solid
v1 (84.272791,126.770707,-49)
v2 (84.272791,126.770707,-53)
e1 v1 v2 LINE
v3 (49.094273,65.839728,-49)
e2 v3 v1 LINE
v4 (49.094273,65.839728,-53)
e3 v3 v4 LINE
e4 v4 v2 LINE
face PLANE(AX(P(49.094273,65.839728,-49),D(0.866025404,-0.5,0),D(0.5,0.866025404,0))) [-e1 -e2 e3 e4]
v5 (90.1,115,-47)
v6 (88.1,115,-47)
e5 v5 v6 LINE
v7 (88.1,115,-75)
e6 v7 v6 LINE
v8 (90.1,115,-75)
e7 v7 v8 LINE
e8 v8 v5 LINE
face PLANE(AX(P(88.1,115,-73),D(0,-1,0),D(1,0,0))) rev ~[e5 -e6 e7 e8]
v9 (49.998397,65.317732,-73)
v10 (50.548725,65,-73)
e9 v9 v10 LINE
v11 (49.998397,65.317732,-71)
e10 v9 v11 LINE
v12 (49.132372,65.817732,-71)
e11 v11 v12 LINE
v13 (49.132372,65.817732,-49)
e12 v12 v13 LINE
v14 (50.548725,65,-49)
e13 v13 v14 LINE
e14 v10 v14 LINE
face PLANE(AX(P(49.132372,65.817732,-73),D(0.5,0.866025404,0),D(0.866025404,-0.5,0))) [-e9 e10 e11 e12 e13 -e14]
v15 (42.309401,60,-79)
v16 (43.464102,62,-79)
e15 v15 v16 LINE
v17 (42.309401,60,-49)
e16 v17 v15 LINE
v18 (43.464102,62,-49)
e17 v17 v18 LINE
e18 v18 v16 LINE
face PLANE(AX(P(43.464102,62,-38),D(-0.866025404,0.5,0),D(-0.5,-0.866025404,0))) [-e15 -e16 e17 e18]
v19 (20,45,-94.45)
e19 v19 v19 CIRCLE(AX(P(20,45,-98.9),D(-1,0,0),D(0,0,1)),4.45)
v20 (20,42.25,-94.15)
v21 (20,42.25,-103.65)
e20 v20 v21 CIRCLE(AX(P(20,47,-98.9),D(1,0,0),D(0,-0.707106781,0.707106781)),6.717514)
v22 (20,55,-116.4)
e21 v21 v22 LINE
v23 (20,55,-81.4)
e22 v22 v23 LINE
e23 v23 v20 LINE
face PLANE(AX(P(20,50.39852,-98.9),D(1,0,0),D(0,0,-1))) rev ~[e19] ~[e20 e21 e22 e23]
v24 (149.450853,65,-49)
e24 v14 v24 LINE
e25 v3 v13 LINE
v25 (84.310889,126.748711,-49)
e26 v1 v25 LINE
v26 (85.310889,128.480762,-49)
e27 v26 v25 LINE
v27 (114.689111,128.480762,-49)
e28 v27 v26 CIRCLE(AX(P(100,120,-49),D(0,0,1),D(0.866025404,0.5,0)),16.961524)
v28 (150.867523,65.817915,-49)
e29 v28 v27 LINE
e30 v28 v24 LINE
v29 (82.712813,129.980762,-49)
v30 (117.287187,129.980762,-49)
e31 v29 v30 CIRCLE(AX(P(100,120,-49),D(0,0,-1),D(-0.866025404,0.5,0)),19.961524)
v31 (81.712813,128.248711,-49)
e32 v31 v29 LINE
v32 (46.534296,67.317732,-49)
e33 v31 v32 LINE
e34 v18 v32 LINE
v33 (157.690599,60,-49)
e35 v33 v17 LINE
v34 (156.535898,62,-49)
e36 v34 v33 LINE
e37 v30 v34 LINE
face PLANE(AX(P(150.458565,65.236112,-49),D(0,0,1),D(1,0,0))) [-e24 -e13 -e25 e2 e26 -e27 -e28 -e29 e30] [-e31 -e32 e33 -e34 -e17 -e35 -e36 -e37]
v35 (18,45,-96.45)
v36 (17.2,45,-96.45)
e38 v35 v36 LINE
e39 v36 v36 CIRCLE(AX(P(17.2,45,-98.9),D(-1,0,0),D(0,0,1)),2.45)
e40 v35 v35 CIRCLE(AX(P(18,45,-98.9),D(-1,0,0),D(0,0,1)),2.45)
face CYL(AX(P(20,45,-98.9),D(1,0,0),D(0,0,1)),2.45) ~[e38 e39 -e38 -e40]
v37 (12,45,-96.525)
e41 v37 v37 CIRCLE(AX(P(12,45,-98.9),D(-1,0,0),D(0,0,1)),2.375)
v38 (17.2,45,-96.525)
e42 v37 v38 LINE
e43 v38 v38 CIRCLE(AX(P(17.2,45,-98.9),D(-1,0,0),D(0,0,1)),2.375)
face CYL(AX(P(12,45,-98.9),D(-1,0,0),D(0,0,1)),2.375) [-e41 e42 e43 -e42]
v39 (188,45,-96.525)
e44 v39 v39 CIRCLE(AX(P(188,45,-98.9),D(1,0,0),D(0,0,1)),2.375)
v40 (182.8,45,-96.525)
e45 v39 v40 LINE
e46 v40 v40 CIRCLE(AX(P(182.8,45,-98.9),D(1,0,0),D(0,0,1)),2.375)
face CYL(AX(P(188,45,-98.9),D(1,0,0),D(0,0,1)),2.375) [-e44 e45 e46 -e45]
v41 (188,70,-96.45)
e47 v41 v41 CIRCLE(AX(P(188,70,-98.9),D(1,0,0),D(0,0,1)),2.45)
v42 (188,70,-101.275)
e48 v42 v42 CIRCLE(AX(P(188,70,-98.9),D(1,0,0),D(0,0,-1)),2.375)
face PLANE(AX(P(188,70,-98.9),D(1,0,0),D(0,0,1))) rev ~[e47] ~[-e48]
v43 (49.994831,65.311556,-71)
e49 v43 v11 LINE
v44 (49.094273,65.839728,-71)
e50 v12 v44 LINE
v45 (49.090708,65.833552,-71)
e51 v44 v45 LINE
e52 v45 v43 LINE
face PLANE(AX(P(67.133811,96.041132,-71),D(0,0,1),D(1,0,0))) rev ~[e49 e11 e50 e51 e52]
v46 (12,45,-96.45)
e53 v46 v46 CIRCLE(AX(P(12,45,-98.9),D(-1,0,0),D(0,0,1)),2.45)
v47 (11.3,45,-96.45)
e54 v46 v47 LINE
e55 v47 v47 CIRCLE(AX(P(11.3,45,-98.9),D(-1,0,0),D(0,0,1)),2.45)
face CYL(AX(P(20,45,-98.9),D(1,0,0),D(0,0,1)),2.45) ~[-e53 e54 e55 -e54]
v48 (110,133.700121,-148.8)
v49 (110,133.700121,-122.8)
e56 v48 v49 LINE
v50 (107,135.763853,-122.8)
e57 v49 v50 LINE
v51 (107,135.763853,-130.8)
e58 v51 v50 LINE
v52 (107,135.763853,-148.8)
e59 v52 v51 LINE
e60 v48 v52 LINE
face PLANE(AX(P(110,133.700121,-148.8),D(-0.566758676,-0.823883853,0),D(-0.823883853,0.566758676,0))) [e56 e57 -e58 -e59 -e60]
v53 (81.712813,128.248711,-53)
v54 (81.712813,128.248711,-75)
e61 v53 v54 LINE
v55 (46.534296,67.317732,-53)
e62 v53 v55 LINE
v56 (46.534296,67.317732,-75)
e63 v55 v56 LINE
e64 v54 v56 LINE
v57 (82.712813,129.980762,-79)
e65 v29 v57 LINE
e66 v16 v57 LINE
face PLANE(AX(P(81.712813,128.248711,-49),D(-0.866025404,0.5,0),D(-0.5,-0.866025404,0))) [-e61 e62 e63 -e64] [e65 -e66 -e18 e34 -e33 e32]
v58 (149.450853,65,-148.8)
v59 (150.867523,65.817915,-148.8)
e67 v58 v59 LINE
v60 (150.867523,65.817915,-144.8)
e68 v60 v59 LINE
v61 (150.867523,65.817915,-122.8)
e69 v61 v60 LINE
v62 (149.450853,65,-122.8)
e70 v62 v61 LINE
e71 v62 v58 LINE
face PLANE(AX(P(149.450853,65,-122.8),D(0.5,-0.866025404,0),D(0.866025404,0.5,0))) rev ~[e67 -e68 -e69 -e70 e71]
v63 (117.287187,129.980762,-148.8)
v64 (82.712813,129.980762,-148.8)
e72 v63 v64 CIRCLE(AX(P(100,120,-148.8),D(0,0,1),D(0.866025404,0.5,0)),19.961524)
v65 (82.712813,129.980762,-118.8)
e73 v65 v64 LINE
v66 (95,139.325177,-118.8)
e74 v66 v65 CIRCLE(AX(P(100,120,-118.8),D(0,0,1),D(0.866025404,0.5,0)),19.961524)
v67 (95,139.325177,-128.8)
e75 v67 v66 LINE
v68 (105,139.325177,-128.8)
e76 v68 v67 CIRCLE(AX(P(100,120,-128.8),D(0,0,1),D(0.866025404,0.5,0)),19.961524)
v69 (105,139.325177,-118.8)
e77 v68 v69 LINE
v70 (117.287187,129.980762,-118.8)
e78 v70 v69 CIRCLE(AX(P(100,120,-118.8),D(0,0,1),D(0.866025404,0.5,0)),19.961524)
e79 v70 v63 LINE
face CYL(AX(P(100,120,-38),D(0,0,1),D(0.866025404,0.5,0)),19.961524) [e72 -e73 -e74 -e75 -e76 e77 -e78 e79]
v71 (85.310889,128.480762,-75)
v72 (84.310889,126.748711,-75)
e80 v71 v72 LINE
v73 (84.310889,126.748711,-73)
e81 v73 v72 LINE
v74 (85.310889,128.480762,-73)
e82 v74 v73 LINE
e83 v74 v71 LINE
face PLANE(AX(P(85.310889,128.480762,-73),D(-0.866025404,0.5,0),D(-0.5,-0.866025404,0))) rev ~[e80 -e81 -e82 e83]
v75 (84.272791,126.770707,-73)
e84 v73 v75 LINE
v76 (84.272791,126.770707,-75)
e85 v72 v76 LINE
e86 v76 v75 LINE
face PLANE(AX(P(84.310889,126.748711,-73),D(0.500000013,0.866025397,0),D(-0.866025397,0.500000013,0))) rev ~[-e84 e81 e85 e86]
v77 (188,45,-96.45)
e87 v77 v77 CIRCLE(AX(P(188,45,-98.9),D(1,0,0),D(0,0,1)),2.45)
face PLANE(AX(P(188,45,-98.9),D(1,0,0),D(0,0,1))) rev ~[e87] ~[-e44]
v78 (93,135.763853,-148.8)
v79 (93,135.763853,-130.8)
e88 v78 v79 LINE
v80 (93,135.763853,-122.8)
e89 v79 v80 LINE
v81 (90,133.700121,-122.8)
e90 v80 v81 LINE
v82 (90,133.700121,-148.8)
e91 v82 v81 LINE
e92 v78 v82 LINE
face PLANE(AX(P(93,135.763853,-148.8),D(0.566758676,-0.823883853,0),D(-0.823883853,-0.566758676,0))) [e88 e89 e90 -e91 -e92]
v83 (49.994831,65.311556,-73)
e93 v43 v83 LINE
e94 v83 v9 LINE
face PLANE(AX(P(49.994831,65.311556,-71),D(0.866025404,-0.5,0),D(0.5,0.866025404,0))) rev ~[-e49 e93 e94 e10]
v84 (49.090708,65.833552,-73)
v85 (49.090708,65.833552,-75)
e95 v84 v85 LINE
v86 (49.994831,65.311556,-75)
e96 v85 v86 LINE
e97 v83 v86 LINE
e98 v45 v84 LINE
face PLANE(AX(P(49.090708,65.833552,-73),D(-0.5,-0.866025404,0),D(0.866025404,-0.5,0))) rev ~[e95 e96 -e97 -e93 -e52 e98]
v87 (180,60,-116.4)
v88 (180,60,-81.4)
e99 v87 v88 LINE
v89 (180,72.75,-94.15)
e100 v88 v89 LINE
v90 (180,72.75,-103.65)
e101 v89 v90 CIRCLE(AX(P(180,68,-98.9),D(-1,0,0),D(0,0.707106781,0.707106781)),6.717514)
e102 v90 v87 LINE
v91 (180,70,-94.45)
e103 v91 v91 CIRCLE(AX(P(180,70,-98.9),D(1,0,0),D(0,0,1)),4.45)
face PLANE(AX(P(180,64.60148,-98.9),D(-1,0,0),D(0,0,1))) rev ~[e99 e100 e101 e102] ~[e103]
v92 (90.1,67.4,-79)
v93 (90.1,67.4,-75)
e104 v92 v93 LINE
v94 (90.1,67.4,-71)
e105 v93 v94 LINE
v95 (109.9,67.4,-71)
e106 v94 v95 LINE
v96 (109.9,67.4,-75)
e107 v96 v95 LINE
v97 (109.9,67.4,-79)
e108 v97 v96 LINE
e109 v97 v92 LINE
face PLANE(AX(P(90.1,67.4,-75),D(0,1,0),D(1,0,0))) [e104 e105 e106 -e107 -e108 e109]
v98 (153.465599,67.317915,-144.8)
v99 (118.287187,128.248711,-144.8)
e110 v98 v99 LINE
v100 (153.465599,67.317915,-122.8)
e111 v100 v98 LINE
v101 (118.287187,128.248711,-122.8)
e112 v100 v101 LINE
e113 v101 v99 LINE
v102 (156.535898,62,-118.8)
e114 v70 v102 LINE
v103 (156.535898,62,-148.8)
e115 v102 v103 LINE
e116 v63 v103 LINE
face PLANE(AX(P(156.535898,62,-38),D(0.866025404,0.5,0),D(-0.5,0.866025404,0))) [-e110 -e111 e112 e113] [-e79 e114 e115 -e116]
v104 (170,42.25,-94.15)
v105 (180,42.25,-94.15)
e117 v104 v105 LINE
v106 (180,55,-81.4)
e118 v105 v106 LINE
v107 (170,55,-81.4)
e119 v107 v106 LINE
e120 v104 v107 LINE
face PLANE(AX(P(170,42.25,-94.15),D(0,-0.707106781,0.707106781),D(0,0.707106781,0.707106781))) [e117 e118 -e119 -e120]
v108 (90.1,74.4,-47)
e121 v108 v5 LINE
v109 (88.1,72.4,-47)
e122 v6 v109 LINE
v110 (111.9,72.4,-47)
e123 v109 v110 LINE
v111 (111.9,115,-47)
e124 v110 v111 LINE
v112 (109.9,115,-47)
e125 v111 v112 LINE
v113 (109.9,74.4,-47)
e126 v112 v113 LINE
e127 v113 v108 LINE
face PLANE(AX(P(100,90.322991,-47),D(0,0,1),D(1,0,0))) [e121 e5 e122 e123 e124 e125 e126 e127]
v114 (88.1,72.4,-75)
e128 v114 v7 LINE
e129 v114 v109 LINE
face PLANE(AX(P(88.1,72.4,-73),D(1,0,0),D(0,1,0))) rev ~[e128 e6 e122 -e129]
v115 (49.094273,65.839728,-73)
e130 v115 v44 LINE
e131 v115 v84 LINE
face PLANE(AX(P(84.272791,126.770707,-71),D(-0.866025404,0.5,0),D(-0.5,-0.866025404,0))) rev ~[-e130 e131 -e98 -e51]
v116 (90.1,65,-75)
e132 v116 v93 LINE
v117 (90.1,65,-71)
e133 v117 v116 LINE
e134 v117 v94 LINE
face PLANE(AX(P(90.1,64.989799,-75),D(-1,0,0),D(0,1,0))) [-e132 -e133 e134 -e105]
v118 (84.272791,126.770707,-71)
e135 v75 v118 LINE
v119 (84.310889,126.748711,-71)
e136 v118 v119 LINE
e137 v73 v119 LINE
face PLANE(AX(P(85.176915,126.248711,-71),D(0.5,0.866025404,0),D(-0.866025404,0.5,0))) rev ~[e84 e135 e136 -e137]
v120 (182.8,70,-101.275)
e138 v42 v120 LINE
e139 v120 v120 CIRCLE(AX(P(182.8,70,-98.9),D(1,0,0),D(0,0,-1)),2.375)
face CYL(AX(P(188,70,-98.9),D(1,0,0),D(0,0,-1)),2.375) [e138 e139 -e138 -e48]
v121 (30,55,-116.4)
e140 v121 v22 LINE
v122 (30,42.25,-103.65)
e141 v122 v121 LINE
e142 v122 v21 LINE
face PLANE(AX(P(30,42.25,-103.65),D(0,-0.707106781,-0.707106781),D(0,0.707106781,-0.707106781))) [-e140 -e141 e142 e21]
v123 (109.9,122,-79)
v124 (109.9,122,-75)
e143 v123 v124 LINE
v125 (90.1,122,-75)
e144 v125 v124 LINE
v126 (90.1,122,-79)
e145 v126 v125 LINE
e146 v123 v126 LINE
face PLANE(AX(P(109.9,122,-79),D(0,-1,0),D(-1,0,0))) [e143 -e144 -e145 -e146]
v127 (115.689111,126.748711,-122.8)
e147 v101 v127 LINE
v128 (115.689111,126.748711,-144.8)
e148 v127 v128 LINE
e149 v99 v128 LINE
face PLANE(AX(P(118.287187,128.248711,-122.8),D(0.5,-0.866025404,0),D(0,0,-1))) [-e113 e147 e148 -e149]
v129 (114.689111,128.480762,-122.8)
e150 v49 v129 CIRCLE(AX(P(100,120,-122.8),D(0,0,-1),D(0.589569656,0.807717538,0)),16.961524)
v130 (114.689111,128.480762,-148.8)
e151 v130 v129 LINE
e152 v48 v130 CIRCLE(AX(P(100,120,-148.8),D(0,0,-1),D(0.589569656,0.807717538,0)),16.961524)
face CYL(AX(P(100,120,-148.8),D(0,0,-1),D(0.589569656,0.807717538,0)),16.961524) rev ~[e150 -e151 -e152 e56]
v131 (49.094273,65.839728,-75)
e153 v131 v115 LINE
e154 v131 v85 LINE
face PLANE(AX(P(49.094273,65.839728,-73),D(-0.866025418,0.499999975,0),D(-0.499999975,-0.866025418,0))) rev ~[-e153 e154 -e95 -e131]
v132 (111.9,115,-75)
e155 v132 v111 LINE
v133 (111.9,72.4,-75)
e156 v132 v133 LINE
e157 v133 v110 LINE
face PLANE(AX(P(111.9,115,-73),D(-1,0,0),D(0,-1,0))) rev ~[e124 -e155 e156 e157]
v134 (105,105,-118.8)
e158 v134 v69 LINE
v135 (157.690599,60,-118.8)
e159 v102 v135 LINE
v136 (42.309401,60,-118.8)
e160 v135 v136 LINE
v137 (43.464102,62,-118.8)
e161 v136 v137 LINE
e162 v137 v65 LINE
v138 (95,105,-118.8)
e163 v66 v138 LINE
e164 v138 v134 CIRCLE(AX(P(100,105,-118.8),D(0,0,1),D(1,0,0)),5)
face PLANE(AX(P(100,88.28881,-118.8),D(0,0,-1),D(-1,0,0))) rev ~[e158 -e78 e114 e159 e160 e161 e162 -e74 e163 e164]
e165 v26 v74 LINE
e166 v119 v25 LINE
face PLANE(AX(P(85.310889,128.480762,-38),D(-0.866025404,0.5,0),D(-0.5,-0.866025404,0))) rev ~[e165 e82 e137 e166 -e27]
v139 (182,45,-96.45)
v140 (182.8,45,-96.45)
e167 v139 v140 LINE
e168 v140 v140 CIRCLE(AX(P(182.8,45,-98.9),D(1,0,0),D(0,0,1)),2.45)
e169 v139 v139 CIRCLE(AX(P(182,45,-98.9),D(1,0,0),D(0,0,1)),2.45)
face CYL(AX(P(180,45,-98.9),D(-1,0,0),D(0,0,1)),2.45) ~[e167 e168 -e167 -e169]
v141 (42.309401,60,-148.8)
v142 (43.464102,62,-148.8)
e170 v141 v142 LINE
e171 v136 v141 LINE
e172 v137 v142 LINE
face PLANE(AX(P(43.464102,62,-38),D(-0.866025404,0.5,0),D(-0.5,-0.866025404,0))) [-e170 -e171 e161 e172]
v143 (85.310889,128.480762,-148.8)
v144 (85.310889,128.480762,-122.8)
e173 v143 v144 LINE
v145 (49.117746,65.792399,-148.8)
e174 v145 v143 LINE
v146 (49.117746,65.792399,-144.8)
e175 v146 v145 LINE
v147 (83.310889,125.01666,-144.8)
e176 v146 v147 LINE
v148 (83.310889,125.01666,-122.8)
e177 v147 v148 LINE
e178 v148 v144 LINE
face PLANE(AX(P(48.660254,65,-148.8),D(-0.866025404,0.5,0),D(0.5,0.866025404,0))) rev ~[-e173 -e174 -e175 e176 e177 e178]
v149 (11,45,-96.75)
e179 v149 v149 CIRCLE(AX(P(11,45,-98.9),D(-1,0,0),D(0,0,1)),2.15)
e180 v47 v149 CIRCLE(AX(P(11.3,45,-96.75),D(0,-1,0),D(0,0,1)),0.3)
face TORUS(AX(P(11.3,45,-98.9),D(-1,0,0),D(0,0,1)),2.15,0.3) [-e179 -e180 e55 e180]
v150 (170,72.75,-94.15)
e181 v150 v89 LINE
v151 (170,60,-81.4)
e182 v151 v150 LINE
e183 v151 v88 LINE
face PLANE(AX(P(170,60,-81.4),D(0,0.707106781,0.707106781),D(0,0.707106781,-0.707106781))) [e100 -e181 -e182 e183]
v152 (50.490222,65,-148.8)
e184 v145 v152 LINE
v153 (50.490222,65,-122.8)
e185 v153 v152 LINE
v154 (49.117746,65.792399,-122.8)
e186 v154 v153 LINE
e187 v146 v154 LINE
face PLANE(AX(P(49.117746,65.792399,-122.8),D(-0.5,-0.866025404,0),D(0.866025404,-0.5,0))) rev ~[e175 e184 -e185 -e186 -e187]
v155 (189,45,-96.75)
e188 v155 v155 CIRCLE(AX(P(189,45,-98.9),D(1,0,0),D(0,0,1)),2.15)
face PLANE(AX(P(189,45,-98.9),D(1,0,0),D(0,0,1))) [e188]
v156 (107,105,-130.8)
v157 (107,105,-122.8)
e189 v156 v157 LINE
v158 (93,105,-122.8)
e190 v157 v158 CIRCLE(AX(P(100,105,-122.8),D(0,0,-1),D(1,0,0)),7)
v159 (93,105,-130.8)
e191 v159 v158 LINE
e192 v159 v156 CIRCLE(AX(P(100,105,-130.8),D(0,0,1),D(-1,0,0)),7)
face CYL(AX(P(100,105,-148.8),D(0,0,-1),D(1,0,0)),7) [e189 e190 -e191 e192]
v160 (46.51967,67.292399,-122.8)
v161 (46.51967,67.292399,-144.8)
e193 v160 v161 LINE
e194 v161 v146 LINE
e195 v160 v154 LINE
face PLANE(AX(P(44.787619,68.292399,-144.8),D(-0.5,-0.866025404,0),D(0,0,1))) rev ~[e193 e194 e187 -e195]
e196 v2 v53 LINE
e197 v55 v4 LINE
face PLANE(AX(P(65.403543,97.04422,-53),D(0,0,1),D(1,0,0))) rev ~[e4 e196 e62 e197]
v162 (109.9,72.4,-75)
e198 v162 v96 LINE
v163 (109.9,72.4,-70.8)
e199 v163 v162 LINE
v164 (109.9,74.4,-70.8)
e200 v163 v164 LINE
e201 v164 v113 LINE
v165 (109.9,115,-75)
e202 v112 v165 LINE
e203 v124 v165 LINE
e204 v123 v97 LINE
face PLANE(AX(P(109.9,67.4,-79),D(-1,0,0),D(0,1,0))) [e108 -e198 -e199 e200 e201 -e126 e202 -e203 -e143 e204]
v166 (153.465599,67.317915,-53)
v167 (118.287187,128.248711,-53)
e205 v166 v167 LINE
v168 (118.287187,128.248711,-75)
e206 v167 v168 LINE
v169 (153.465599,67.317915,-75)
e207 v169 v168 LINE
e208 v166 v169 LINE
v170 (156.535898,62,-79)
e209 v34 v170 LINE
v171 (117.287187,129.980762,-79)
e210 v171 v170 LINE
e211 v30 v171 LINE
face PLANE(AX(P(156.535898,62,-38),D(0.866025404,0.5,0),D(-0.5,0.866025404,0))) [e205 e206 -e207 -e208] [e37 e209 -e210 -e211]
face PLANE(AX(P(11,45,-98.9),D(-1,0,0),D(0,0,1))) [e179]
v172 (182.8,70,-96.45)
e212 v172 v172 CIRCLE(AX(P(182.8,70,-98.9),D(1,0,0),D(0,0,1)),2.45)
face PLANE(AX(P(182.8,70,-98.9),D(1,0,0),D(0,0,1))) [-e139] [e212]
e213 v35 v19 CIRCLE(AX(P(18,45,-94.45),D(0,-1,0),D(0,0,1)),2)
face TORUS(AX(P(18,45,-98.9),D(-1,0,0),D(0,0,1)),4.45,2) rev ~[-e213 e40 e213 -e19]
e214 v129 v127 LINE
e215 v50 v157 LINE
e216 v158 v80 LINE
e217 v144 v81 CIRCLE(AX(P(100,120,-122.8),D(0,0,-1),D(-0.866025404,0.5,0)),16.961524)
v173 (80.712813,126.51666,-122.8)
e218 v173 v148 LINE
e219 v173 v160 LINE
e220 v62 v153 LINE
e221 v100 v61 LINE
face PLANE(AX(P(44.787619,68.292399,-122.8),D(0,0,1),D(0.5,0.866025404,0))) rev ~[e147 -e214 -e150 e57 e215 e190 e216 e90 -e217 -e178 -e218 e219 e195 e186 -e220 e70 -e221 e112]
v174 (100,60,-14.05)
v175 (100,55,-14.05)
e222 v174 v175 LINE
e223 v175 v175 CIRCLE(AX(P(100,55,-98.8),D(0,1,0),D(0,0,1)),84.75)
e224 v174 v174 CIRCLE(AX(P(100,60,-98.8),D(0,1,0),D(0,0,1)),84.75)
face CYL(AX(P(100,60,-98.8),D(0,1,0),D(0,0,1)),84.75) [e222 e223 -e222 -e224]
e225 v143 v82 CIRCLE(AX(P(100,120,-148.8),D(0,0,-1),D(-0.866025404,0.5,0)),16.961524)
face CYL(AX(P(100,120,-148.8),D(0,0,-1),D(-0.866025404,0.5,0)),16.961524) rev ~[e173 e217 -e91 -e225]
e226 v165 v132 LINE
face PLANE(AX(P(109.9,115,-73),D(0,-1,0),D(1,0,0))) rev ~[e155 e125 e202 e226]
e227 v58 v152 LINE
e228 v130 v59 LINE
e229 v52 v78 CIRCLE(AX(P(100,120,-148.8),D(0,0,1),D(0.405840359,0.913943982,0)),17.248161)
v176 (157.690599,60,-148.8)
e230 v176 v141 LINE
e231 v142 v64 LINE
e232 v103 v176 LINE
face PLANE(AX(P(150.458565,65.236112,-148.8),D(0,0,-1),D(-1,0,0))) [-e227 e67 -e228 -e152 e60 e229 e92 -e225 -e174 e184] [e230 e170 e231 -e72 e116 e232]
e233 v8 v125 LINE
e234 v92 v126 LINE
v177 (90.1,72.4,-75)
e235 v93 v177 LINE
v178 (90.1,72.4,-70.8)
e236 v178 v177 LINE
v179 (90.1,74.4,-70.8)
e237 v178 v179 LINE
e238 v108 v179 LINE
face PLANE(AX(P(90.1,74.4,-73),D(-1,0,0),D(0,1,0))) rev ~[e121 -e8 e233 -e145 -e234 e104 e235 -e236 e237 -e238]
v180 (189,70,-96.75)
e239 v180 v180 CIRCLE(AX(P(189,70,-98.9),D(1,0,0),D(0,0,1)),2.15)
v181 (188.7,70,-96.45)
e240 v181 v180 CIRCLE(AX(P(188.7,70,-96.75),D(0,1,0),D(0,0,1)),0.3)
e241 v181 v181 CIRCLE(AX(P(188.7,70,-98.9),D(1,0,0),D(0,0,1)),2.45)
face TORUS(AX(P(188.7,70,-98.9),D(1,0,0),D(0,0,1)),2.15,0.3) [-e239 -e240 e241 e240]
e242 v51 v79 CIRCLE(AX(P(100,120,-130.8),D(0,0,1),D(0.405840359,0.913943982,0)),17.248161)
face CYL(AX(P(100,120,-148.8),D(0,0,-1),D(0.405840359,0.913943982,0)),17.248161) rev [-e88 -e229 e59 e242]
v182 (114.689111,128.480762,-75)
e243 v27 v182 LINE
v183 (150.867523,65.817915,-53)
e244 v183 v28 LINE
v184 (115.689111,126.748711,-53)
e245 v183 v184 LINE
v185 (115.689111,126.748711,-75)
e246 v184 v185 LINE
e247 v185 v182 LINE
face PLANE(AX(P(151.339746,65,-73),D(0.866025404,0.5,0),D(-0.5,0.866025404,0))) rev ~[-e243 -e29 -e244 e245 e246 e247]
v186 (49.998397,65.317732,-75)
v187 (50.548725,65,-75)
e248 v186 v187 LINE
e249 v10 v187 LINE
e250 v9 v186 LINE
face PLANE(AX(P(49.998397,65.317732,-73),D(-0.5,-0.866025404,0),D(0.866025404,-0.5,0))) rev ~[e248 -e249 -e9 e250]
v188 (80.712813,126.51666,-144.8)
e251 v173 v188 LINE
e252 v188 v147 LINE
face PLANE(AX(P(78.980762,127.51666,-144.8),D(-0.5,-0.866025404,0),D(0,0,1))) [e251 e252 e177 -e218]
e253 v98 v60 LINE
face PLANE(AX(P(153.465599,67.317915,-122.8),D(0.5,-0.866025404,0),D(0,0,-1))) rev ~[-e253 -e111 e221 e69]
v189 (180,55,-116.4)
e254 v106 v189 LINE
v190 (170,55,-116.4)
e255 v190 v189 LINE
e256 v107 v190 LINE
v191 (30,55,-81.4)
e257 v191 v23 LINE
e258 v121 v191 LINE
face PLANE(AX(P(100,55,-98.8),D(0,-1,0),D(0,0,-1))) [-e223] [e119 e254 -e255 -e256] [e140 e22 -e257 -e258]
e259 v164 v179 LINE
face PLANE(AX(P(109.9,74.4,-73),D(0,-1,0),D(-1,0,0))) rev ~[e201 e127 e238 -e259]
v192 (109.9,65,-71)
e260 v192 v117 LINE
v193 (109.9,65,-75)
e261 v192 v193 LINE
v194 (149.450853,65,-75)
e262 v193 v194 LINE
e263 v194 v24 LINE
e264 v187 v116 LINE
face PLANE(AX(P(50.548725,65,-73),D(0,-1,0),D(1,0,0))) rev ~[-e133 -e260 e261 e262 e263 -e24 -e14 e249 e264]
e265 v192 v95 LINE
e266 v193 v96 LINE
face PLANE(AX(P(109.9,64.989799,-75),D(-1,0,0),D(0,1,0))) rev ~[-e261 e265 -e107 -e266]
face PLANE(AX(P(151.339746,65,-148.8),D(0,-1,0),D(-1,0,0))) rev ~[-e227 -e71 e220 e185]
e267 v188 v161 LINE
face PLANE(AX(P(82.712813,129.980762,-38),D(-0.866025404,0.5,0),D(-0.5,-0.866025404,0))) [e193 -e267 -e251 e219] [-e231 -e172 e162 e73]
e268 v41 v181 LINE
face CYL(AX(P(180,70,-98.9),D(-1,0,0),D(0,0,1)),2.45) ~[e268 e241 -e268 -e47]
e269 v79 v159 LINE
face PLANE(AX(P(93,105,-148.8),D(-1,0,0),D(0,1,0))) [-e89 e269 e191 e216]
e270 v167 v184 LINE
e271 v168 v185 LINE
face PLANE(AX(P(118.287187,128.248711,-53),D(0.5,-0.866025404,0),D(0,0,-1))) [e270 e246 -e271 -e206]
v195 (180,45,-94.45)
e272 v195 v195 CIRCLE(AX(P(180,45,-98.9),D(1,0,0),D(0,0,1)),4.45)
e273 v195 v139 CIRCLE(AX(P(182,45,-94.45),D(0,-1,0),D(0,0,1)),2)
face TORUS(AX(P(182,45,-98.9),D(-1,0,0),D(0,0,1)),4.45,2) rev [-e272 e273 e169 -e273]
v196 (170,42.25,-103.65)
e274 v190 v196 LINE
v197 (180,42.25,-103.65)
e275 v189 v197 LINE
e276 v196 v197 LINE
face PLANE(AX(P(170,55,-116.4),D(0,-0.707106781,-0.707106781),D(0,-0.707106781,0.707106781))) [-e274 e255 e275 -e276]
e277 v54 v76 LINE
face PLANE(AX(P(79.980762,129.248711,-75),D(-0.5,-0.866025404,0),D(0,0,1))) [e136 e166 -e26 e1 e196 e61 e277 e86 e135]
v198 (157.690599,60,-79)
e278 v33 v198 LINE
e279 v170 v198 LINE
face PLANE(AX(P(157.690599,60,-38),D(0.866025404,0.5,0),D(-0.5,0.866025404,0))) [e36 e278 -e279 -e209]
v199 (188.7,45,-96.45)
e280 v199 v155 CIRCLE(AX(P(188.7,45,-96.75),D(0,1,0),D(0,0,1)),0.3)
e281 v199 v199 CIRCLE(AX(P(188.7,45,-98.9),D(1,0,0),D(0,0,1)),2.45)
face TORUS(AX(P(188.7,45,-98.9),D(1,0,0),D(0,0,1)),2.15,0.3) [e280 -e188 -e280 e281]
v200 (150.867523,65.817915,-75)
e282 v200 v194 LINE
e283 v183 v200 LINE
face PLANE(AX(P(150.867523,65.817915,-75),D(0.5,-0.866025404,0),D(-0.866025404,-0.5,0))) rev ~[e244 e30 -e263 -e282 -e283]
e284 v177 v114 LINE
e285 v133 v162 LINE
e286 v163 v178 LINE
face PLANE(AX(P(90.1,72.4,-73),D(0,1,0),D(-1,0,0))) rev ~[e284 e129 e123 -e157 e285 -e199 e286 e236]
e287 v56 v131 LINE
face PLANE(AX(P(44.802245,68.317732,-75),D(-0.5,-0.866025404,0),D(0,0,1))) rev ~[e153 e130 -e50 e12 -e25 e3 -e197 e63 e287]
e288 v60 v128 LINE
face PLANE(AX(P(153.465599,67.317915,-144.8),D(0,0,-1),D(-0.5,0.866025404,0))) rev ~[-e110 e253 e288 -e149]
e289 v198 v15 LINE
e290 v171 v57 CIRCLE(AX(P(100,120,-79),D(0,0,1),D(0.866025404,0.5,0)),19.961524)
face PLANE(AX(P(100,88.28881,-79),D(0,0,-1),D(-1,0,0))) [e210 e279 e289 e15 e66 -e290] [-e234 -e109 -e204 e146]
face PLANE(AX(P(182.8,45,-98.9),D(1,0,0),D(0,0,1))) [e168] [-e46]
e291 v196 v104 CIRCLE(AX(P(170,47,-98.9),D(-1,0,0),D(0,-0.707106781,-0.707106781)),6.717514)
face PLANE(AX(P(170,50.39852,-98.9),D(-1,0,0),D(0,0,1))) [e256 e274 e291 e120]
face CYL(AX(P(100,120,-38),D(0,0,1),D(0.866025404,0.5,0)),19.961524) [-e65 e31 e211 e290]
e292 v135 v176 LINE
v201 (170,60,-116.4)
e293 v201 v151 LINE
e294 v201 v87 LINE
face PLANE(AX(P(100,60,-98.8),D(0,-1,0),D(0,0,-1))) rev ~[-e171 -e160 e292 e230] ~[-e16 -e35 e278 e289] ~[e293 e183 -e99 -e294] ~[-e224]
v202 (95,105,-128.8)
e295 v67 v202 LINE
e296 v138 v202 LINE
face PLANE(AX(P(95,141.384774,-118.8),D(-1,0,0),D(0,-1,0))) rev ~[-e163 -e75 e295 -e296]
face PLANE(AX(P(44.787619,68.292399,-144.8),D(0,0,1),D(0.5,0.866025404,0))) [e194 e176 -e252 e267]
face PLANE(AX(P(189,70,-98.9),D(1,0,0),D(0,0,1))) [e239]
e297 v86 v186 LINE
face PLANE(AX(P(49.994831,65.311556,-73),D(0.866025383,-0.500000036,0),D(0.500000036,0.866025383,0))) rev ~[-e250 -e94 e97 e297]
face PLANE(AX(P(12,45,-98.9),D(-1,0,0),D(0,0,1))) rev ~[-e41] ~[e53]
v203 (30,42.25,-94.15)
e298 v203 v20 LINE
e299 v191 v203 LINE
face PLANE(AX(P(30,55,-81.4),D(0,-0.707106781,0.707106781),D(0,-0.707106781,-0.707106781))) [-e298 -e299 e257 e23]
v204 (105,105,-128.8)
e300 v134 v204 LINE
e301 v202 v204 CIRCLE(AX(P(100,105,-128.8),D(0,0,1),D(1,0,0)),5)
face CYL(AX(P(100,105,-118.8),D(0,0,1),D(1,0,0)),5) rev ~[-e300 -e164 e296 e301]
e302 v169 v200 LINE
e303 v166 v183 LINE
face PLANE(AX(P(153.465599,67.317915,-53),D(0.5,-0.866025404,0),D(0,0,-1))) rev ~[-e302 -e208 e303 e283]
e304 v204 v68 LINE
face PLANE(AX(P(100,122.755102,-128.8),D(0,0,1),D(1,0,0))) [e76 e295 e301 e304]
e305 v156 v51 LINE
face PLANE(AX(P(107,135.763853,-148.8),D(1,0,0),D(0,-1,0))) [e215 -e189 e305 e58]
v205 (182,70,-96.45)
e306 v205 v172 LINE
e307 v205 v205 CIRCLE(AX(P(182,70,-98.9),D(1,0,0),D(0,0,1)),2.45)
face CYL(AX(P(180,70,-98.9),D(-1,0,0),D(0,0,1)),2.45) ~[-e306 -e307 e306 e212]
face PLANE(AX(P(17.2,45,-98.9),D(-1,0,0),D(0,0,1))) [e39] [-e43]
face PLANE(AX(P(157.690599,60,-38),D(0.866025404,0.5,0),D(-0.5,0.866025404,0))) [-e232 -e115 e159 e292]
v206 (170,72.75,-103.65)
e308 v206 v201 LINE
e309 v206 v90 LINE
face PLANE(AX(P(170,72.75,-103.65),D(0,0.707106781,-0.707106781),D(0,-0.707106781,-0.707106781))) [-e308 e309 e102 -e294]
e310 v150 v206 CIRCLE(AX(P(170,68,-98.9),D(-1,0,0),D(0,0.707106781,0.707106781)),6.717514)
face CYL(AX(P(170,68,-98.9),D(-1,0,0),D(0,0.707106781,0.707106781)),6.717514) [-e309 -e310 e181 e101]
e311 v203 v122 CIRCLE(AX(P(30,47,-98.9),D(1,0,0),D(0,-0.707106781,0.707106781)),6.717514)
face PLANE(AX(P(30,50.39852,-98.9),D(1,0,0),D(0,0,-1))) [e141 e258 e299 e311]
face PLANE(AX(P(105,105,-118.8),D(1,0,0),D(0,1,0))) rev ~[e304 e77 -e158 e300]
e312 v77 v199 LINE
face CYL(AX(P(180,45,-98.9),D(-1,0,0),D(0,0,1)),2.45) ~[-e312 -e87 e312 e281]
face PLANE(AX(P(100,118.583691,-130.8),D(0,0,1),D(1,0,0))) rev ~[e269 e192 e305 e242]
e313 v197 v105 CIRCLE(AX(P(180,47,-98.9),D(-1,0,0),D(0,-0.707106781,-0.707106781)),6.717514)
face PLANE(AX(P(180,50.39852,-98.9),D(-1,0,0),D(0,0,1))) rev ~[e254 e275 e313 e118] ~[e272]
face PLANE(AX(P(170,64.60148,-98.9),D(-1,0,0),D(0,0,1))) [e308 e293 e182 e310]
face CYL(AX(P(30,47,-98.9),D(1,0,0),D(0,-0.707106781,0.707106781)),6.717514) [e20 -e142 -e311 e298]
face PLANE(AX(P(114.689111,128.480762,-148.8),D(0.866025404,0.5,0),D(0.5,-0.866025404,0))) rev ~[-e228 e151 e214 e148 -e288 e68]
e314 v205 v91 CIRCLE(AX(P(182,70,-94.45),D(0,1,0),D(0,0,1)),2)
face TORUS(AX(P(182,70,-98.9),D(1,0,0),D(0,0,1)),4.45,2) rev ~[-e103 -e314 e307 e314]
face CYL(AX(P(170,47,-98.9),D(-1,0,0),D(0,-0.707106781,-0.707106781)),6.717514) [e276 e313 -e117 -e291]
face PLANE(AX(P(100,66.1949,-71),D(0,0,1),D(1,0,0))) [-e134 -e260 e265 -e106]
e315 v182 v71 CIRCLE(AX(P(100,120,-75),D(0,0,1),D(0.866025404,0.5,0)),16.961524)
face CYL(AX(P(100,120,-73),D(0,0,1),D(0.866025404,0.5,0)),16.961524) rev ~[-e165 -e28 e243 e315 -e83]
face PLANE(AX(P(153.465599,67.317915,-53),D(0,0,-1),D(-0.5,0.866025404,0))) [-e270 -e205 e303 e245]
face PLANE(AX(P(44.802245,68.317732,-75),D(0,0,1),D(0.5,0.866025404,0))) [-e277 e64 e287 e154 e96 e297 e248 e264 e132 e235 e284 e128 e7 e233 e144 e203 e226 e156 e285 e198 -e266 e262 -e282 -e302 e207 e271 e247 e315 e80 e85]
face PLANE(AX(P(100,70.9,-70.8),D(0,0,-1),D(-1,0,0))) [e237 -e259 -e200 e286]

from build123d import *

# Parameters (mm, degrees)
SKETCH2_W            = 200
SKETCH2_H            = 200
BOSS_EXTRUDE2_DEPTH  = 60
BOSS_EXTRUDE3_START  = -38
BOSS_EXTRUDE3_DEPTH  = 41
SKETCH5_W            = 180
SKETCH5_H            = 180
CUT_EXTRUDE2_DEPTH   = 50
BOSS_EXTRUDE4_START  = -51.2
BOSS_EXTRUDE4_DEPTH  = 30
CUT_EXTRUDE3_DEPTH   = 35
SKETCH9_R            = 5
CUT_EXTRUDE4_DEPTH   = 10
CUT_EXTRUDE6_DEPTH   = 26
SKETCH11_W           = 120
SKETCH11_H           = 10
CUT_EXTRUDE7_DEPTH   = 26
SKETCH12_W           = 180
SKETCH12_H           = 50
CUT_EXTRUDE8_DEPTH   = 200
SKETCH13_W           = 180
SKETCH13_H           = 50
CUT_EXTRUDE9_DEPTH   = 200
SKETCH15_W           = 19.8
SKETCH15_H           = 40.6
SKETCH15_R           = 4.016151872
CUT_EXTRUDE11_DEPTH  = 10
BOSS_EXTRUDE5_DEPTH  = 26
SKETCH20_W           = 19.8
SKETCH20_H           = 7
CUT_EXTRUDE14_DEPTH  = 8.2
SKETCH22_W           = 22
SKETCH22_H           = 68.38628635
SKETCH22_W_2         = 33
SKETCH22_H_2         = 70.357034464
CUT_EXTRUDE16_DEPTH  = 6
CUT_EXTRUDE17_DEPTH  = 150
SKETCH24_W           = 190
SKETCH24_H           = 55
CUT_EXTRUDE18_DEPTH  = 200
SKETCH41_W           = 200
SKETCH41_H           = 200
SKETCH41_W_2         = 115.381197846
SKETCH41_H_2         = 110.8
CUT_EXTRUDE25_DEPTH  = 100
CUT_EXTRUDE26_DEPTH  = 26
SKETCH43_R           = 85
BOSS_EXTRUDE9_DEPTH  = 5
CUT_EXTRUDE27_DEPTH  = 11
BOSS_EXTRUDE10_DEPTH = 4
BOSS_EXTRUDE11_DEPTH = 24
BOSS_EXTRUDE12_DEPTH = 26
BOSS_EXTRUDE14_DEPTH = 4
CUT_EXTRUDE29_DEPTH  = 18
CUT_EXTRUDE30_DEPTH  = 2
CUT_EXTRUDE31_DEPTH  = 2
SKETCH55_W           = 19.8
SKETCH55_H           = 2.410200662
BOSS_EXTRUDE16_DEPTH = 4
SKETCH56_W           = 22
SKETCH56_H           = 70.356823689
CUT_EXTRUDE32_DEPTH  = 4
BOSS_EXTRUDE17_DEPTH = 26
BOSS_EXTRUDE18_DEPTH = 26
BOSS_EXTRUDE19_START = 170
BOSS_EXTRUDE19_DEPTH = 10
SKETCH60_R           = 2.45
BOSS_EXTRUDE20_DEPTH = 9
FILLET1_R            = 0.3
CUT_EXTRUDE33_START  = -1
SKETCH61_R           = 2.45
SKETCH61_R_2         = 2.375
CUT_EXTRUDE33_DEPTH  = 5.2
FILLET2_R            = 2
BOSS_EXTRUDE21_START = 140
BOSS_EXTRUDE21_DEPTH = 10
SKETCH63_R           = 2.45
BOSS_EXTRUDE22_DEPTH = 9
FILLET3_R            = 0.3
FILLET4_R            = 2
CUT_EXTRUDE34_START  = -1
SKETCH64_R           = 2.45
SKETCH64_R_2         = 2.375
CUT_EXTRUDE34_DEPTH  = 5.2
SKETCH67_R           = 95.168377016
SKETCH67_R_2         = 84.75
CUT_EXTRUDE36_DEPTH  = 5


with BuildPart() as part:
    # Sketch2 → Boss-Extrude2 (new body)
    with BuildSketch(Plane(origin=(0, 0, 0), x_dir=(1, 0, 0), z_dir=(0, 1, 0))):
        with Locations((100, 100)):
            Rectangle(SKETCH2_W, SKETCH2_H)
    extrude(amount=BOSS_EXTRUDE2_DEPTH)

    # Sketch3 → Boss-Extrude3 (add)
    with BuildSketch(Plane.XY.offset(BOSS_EXTRUDE3_START)):
        with BuildLine():
            Line((40, 60), (80.980762114, 130.980762114))
            ThreePointArc((80.980762114, 130.980762114), (100, 141.961524227), (119.019237886, 130.980762114))
            Line((119.019237886, 130.980762114), (160, 60))
            Line((160, 60), (40, 60))
        make_face()
    extrude(amount=-BOSS_EXTRUDE3_DEPTH)

    # Sketch5 → Cut-Extrude2 (cut)
    with BuildSketch(Plane.XZ):
        with Locations((100, -100)):
            Rectangle(SKETCH5_W, SKETCH5_H)
    extrude(amount=-CUT_EXTRUDE2_DEPTH, mode=Mode.SUBTRACT)

    # Sketch7 → Boss-Extrude4 (add)
    with BuildSketch(Plane(origin=(0, 0, -200), x_dir=(-1, 0, 0), z_dir=(0, 0, -1)).offset(BOSS_EXTRUDE4_START)):
        with BuildLine():
            Line((-160, 60), (-40, 60))
            Line((-40, 60), (-80.980762114, 130.980762114))
            ThreePointArc((-80.980762114, 130.980762114), (-100, 141.961524227), (-119.019237886, 130.980762114))
            Line((-119.019237886, 130.980762114), (-160, 60))
        make_face()
    extrude(amount=-BOSS_EXTRUDE4_DEPTH)

    # Sketch8 → Cut-Extrude3 (cut)
    with BuildSketch(Plane.XY.offset(-38)):
        with BuildLine():
            Line((48.660254038, 65), (151.339745962, 65))
            Line((151.339745962, 65), (114.689110868, 128.480762114))
            ThreePointArc((114.689110868, 128.480762114), (100, 136.961524227), (85.310889132, 128.480762114))
            Line((85.310889132, 128.480762114), (48.660254038, 65))
        make_face()
    extrude(amount=-CUT_EXTRUDE3_DEPTH, mode=Mode.SUBTRACT)

    # Sketch9 → Cut-Extrude4 (cut)
    with BuildSketch(Plane.XY.offset(-118.8)):
        with BuildLine():
            Line((95, 141.384773704), (95, 105))
            ThreePointArc((95, 105), (100, 110), (105, 105))
            Line((105, 105), (105, 141.384773704))
            ThreePointArc((105, 141.384773704), (100, 141.961524227), (95, 141.384773704))
        make_face()
        with Locations((100, 105)):
            Circle(SKETCH9_R)
    extrude(amount=-CUT_EXTRUDE4_DEPTH, mode=Mode.SUBTRACT)

    # Sketch10 → Cut-Extrude6 (cut)
    with BuildSketch(Plane(origin=(0, 0, -148.8), x_dir=(-1, 0, 0), z_dir=(0, 0, -1))):
        with BuildLine():
            Line((-110, 105), (-110, 133.700120587))
            ThreePointArc((-110, 133.700120587), (-112.617387787, 131.335555987), (-114.689110868, 128.480762114))
            Line((-114.689110868, 128.480762114), (-151.339745962, 65))
            Line((-151.339745962, 65), (-48.660254038, 65))
            Line((-48.660254038, 65), (-85.310889132, 128.480762114))
            ThreePointArc((-85.310889132, 128.480762114), (-87.382612213, 131.335555987), (-90, 133.700120587))
            Line((-90, 133.700120587), (-90, 105))
            ThreePointArc((-90, 105), (-100, 95), (-110, 105))
        make_face()
    extrude(amount=-CUT_EXTRUDE6_DEPTH, mode=Mode.SUBTRACT)

    # Sketch11 → Cut-Extrude7 (cut)
    with BuildSketch(Plane(origin=(0, 60, 0), x_dir=(1, 0, 0), z_dir=(0, 1, 0))):
        with Locations((100, 113.8)):
            Rectangle(SKETCH11_W, SKETCH11_H)
    extrude(amount=-CUT_EXTRUDE7_DEPTH, mode=Mode.SUBTRACT)

    # Sketch12 → Cut-Extrude8 (cut)
    with BuildSketch(Plane(origin=(200, 0, 0), x_dir=(0, 0, -1), z_dir=(1, 0, 0))):
        with Locations((100, 25)):
            Rectangle(SKETCH12_W, SKETCH12_H)
    extrude(amount=-CUT_EXTRUDE8_DEPTH, mode=Mode.SUBTRACT)

    # Sketch13 → Cut-Extrude9 (cut)
    with BuildSketch(Plane.XY):
        with Locations((100, 25)):
            Rectangle(SKETCH13_W, SKETCH13_H)
    extrude(amount=-CUT_EXTRUDE9_DEPTH, mode=Mode.SUBTRACT)

    # Sketch15 → Cut-Extrude11 (cut)
    with BuildSketch(Plane.XY.offset(-73)):
        with Locations((100, 94.7)):
            Rectangle(SKETCH15_W, SKETCH15_H)
        with Locations((100, 105)):
            Circle(SKETCH15_R, mode=Mode.SUBTRACT)
        with Locations((100, 105)):
            Circle(SKETCH15_R)
    extrude(amount=-CUT_EXTRUDE11_DEPTH, mode=Mode.SUBTRACT)

    # Sketch16 → Boss-Extrude5 (add)
    with BuildSketch(Plane.XY.offset(-73)):
        Polygon((88.1, 115), (88.1, 72.4), (111.9, 72.4), (111.9, 115), (109.9, 115), (109.9, 74.4), (90.1, 74.4), (90.1, 115), align=None)
    extrude(amount=BOSS_EXTRUDE5_DEPTH)

    # Sketch20 → Cut-Extrude14 (cut)
    with BuildSketch(Plane(origin=(0, 0, -79), x_dir=(-1, 0, 0), z_dir=(0, 0, -1))):
        with Locations((-100, 118.5)):
            Rectangle(SKETCH20_W, SKETCH20_H)
        with Locations((-100, 70.9)):
            Rectangle(SKETCH20_W, SKETCH20_H)
    extrude(amount=-CUT_EXTRUDE14_DEPTH, mode=Mode.SUBTRACT)

    # Sketch22 → Cut-Extrude16 (cut)
    with BuildSketch(Plane(origin=(4.019237886, -2.320508076, 0), x_dir=(0, 0, 1), z_dir=(-0.8660254037844397, 0.49999999999999806, 0))):
        with Locations((-133.8, 115.729905279)):
            Rectangle(SKETCH22_W, SKETCH22_H)
        with Locations((-58.5, 116.744531222)):
            Rectangle(SKETCH22_W_2, SKETCH22_H_2)
    extrude(amount=-CUT_EXTRUDE16_DEPTH, mode=Mode.SUBTRACT)

    # Sketch23 → Cut-Extrude17 (cut)
    with BuildSketch(Plane.XY.offset(-38)):
        with BuildLine():
            Line((43.464101615, 62), (42.309401077, 60))
            Line((42.309401077, 60), (36.951802896, 60))
            Line((36.951802896, 60), (100, 183.688158135))
            Line((100, 183.688158135), (162.604774917, 60))
            Line((162.604774917, 60), (157.690598923, 60))
            Line((157.690598923, 60), (156.535898385, 62))
            Line((156.535898385, 62), (117.287187079, 129.980762114))
            ThreePointArc((117.287187079, 129.980762114), (100, 139.961524227), (82.712812921, 129.980762114))
            Line((82.712812921, 129.980762114), (43.464101615, 62))
        make_face()
    extrude(amount=-CUT_EXTRUDE17_DEPTH, mode=Mode.SUBTRACT)

    # Sketch24 → Cut-Extrude18 (cut)
    with BuildSketch(Plane(origin=(0, 0, -200), x_dir=(-1, 0, 0), z_dir=(0, 0, -1))):
        with Locations((-100, 27.5)):
            Rectangle(SKETCH24_W, SKETCH24_H)
    extrude(amount=-CUT_EXTRUDE18_DEPTH, mode=Mode.SUBTRACT)

    # Sketch41 → Cut-Extrude25 (cut)
    with BuildSketch(Plane(origin=(0, 60, 0), x_dir=(1, 0, 0), z_dir=(0, 1, 0))):
        with Locations((100, 100)):
            Rectangle(SKETCH41_W, SKETCH41_H)
        with Locations((100, 93.4)):
            Rectangle(SKETCH41_W_2, SKETCH41_H_2, mode=Mode.SUBTRACT)
    extrude(amount=-CUT_EXTRUDE25_DEPTH, mode=Mode.SUBTRACT)


with BuildPart() as cut_extrude25_piece_1:
    # of the separate pieces the step leaves, piece 1, a body of its own (cut_extrude25_pieces)
    add(part.part.solids().sort_by_distance((42.309401077, 55, -108.8))[0])



with BuildPart() as cut_extrude25_piece_2:
    # of the separate pieces the step leaves, piece 2, a body of its own (cut_extrude25_pieces)
    add(part.part.solids().sort_by_distance((42.309401077, 55, -118.8))[0])

    # Sketch38 → Cut-Extrude26 (cut)
    with BuildSketch(Plane(origin=(0, 0, -148.8), x_dir=(-1, 0, 0), z_dir=(0, 0, -1))):
        with BuildLine():
            Line((-110, 133.700120587), (-107, 135.763853262))
            Line((-107, 135.763853262), (-107, 105))
            ThreePointArc((-107, 105), (-100, 98), (-93, 105))
            Line((-93, 105), (-93, 135.763853262))
            Line((-93, 135.763853262), (-90, 133.700120587))
            Line((-90, 133.700120587), (-90, 105))
            ThreePointArc((-90, 105), (-100, 95), (-110, 105))
            Line((-110, 105), (-110, 133.700120587))
        make_face()
    extrude(amount=-CUT_EXTRUDE26_DEPTH, mode=Mode.SUBTRACT)


with BuildPart() as cut_extrude25_piece_1_1:
    add(cut_extrude25_piece_1.part)

    add(cut_extrude25_piece_2.part)  # Boss-Extrude9 merges Cut-Extrude25 piece 2
    # Sketch43 → Boss-Extrude9 (add)
    with BuildSketch(Plane.XZ.offset(-55)):
        with Locations(Location((100, -98.8, 0), (0, 0, 270))):
            Circle(SKETCH43_R)
    extrude(amount=-BOSS_EXTRUDE9_DEPTH)

    # Sketch45 → Cut-Extrude27 (cut)
    with BuildSketch(Plane.XY.offset(-38)):
        with BuildLine():
            Line((42.309401077, 60), (82.712812921, 129.980762114))
            ThreePointArc((82.712812921, 129.980762114), (100, 139.961524227), (117.287187079, 129.980762114))
            Line((117.287187079, 129.980762114), (157.690598923, 60))
            Line((157.690598923, 60), (42.309401077, 60))
        make_face()
        with BuildLine():
            Line((151.339745962, 65), (114.689110868, 128.480762114))
            ThreePointArc((114.689110868, 128.480762114), (100, 136.961524227), (85.310889132, 128.480762114))
            Line((85.310889132, 128.480762114), (48.660254038, 65))
            Line((48.660254038, 65), (151.339745962, 65))
        make_face(mode=Mode.SUBTRACT)
    extrude(amount=-CUT_EXTRUDE27_DEPTH, mode=Mode.SUBTRACT)

    # Sketch46 → Boss-Extrude10 (add)
    with BuildSketch(Plane.XY.offset(-49)):
        Polygon((81.712812921, 128.248711306), (46.534295689, 67.317732125), (49.094273419, 65.839728294), (84.272790651, 126.770707475), align=None)
    extrude(amount=-BOSS_EXTRUDE10_DEPTH)

    # Sketch47 → Boss-Extrude11 (add)
    with BuildSketch(Plane.XY.offset(-73)):
        Polygon((49.1323719, 65.817732125), (50.548725488, 65), (48.660254038, 65), align=None)
    extrude(amount=BOSS_EXTRUDE11_DEPTH)

    # Sketch48 → Boss-Extrude12 (add)
    with BuildSketch(Plane(origin=(0, 0, -122.8), x_dir=(-1, 0, 0), z_dir=(0, 0, -1))):
        Polygon((-49.117745958, 65.792399249), (-50.490221717, 65), (-48.660254038, 65), align=None)
    extrude(amount=BOSS_EXTRUDE12_DEPTH)

    # Sketch49 → Boss-Extrude14 (add)
    with BuildSketch(Plane.XY.offset(-75)):
        Polygon((49.998397304, 65.317732125), (49.094273419, 65.839728294), (84.272790651, 126.770707475), (85.176914536, 126.248711306), align=None)
    extrude(amount=BOSS_EXTRUDE14_DEPTH)

    # Sketch52 → Cut-Extrude29 (cut)
    with BuildSketch(Plane(origin=(0, 0, -148.8), x_dir=(-1, 0, 0), z_dir=(0, 0, -1))):
        with BuildLine():
            Line((-93, 135.763853262), (-93, 105))
            ThreePointArc((-93, 105), (-100, 98), (-107, 105))
            Line((-107, 105), (-107, 135.763853262))
            ThreePointArc((-107, 135.763853262), (-100, 137.248161341), (-93, 135.763853262))
        make_face()
    extrude(amount=-CUT_EXTRUDE29_DEPTH, mode=Mode.SUBTRACT)

    # Sketch53 → Cut-Extrude30 (cut)
    with BuildSketch(Plane.XY.offset(-71)):
        Polygon((85.176914536, 126.248711306), (84.272790651, 126.770707475), (49.090707581, 65.833552081), (49.994831466, 65.311555913), align=None)
    extrude(amount=-CUT_EXTRUDE30_DEPTH, mode=Mode.SUBTRACT)

    # Sketch54 → Cut-Extrude31 (cut)
    with BuildSketch(Plane.XY.offset(-73)):
        with BuildLine():
            Line((49.090707581, 65.833552081), (49.994831466, 65.311555913))
            Line((49.994831466, 65.311555913), (49.998397304, 65.317732125))
            Line((49.998397304, 65.317732125), (50.548725488, 65))
            Line((50.548725488, 65), (151.339745962, 65))
            Line((151.339745962, 65), (114.689110868, 128.480762114))
            ThreePointArc((114.689110868, 128.480762114), (100, 136.961524227), (85.310889132, 128.480762114))
            Line((85.310889132, 128.480762114), (84.310889132, 126.748711306))
            Line((84.310889132, 126.748711306), (84.272790651, 126.770707475))
            Line((84.272790651, 126.770707475), (49.094273419, 65.839728294))
            Line((49.094273419, 65.839728294), (49.090707581, 65.833552081))
        make_face()
        Polygon((90.1, 122), (109.9, 122), (109.9, 115), (111.9, 115), (111.9, 72.4), (109.9, 72.4), (109.9, 67.4), (90.1, 67.4), (90.1, 72.4), (88.1, 72.4), (88.1, 115), (90.1, 115), align=None, mode=Mode.SUBTRACT)
    extrude(amount=-CUT_EXTRUDE31_DEPTH, mode=Mode.SUBTRACT)

    # Sketch55 → Boss-Extrude16 (add)
    with BuildSketch(Plane.XY.offset(-75)):
        with Locations((100, 66.194899669)):
            Rectangle(SKETCH55_W, SKETCH55_H)
    extrude(amount=BOSS_EXTRUDE16_DEPTH)

    # Sketch56 → Cut-Extrude32 (cut)
    with BuildSketch(Plane(origin=(144.248711306, 83.282032303, 0), x_dir=(0, 0, -1), z_dir=(0.8660254037844362, 0.5000000000000044, 0))):
        with Locations((64, 16.744636609)):
            Rectangle(SKETCH56_W, SKETCH56_H)
        with Locations((133.8, 16.744636609)):
            Rectangle(SKETCH56_W, SKETCH56_H)
    extrude(amount=-CUT_EXTRUDE32_DEPTH, mode=Mode.SUBTRACT)

    # Sketch57 → Boss-Extrude17 (add)
    with BuildSketch(Plane.XY.offset(-75)):
        Polygon((150.867522712, 65.817914662), (149.450852961, 65), (151.339745962, 65), align=None)
    extrude(amount=BOSS_EXTRUDE17_DEPTH)

    # Sketch58 → Boss-Extrude18 (add)
    with BuildSketch(Plane(origin=(0, 0, -122.8), x_dir=(-1, 0, 0), z_dir=(0, 0, -1))):
        Polygon((-150.867522712, 65.817914662), (-151.339745962, 65), (-149.450852961, 65), align=None)
    extrude(amount=BOSS_EXTRUDE18_DEPTH)

    # Sketch59 → Boss-Extrude19 (add)
    with BuildSketch(Plane(origin=(0, 0, 0), x_dir=(0, 0, -1), z_dir=(1, 0, 0)).offset(BOSS_EXTRUDE19_START)):
        with BuildLine():
            Line((81.4, 60), (94.15, 72.75))
            ThreePointArc((94.15, 72.75), (98.9, 74.717514421), (103.65, 72.75))
            Line((103.65, 72.75), (116.4, 60))
            Line((116.4, 60), (81.4, 60))
        make_face()
        with BuildLine():
            Line((81.4, 55), (116.4, 55))
            Line((116.4, 55), (103.65, 42.25))
            ThreePointArc((103.65, 42.25), (98.9, 40.282485579), (94.15, 42.25))
            Line((94.15, 42.25), (81.4, 55))
        make_face()
    extrude(amount=BOSS_EXTRUDE19_DEPTH)

    # Sketch60 → Boss-Extrude20 (add)
    with BuildSketch(Plane(origin=(180, 0, 0), x_dir=(0, 0, -1), z_dir=(1, 0, 0))):
        with Locations(Location((98.9, 70, 0), (0, 0, 180))):
            Circle(SKETCH60_R)
        with Locations(Location((98.9, 45, 0), (0, 0, 180))):
            Circle(SKETCH60_R)
    extrude(amount=BOSS_EXTRUDE20_DEPTH)

    # Fillet1
    fillet1_edges = [cut_extrude25_piece_1_1.edges().sort_by_distance(p)[0] for p in [
        (189, 70, -101.35),
        (189, 45, -101.35),
    ]]
    fillet(fillet1_edges, radius=FILLET1_R)

    # Sketch61 → Cut-Extrude33 (cut)
    with BuildSketch(Plane(origin=(189, 0, 0), x_dir=(0, 0, -1), z_dir=(1, 0, 0)).offset(CUT_EXTRUDE33_START)):
        with Locations(Location((98.9, 70, 0), (0, 0, 180))):
            Circle(SKETCH61_R)
        with Locations((98.9, 70)):
            Circle(SKETCH61_R_2, mode=Mode.SUBTRACT)
        with Locations(Location((98.9, 45, 0), (0, 0, 180))):
            Circle(SKETCH61_R)
        with Locations(Location((98.9, 45, 0), (0, 0, 180))):
            Circle(SKETCH61_R_2, mode=Mode.SUBTRACT)
    extrude(amount=-CUT_EXTRUDE33_DEPTH, mode=Mode.SUBTRACT)

    # Fillet2
    fillet2_edges = [cut_extrude25_piece_1_1.edges().sort_by_distance(p)[0] for p in [
        (180, 70, -101.35),
        (180, 45, -101.35),
    ]]
    fillet(fillet2_edges, radius=FILLET2_R)

    # Sketch62 → Boss-Extrude21 (add)
    with BuildSketch(Plane.ZY.offset(-170).offset(BOSS_EXTRUDE21_START)):
        with BuildLine():
            Line((-81.4, 55), (-94.15, 42.25))
            ThreePointArc((-94.15, 42.25), (-98.9, 40.282485579), (-103.65, 42.25))
            Line((-103.65, 42.25), (-116.4, 55))
            Line((-116.4, 55), (-81.4, 55))
        make_face()
    extrude(amount=BOSS_EXTRUDE21_DEPTH)

    # Sketch63 → Boss-Extrude22 (add)
    with BuildSketch(Plane.ZY.offset(-20)):
        with Locations((-98.9, 45)):
            Circle(SKETCH63_R)
    extrude(amount=BOSS_EXTRUDE22_DEPTH)

    # Fillet3
    fillet3_edges = [cut_extrude25_piece_1_1.edges().sort_by_distance(p)[0] for p in [
        (11, 45, -101.35),
    ]]
    fillet(fillet3_edges, radius=FILLET3_R)

    # Fillet4
    fillet4_edges = [cut_extrude25_piece_1_1.edges().sort_by_distance(p)[0] for p in [
        (20, 45, -101.35),
    ]]
    fillet(fillet4_edges, radius=FILLET4_R)

    # Sketch64 → Cut-Extrude34 (cut)
    with BuildSketch(Plane.ZY.offset(-11).offset(CUT_EXTRUDE34_START)):
        with Locations((-98.9, 45)):
            Circle(SKETCH64_R)
        with Locations((-98.9, 45)):
            Circle(SKETCH64_R_2, mode=Mode.SUBTRACT)
    extrude(amount=-CUT_EXTRUDE34_DEPTH, mode=Mode.SUBTRACT)

    # Sketch67 → Cut-Extrude36 (cut)
    with BuildSketch(Plane(origin=(0, 60, 0), x_dir=(1, 0, 0), z_dir=(0, 1, 0))):
        with Locations((100, 98.8)):
            Circle(SKETCH67_R)
        with Locations(Location((100, 98.8, 0), (0, 0, 270))):
            Circle(SKETCH67_R_2, mode=Mode.SUBTRACT)
    extrude(amount=-CUT_EXTRUDE36_DEPTH, mode=Mode.SUBTRACT)


solid = cut_extrude25_piece_1_1.part
